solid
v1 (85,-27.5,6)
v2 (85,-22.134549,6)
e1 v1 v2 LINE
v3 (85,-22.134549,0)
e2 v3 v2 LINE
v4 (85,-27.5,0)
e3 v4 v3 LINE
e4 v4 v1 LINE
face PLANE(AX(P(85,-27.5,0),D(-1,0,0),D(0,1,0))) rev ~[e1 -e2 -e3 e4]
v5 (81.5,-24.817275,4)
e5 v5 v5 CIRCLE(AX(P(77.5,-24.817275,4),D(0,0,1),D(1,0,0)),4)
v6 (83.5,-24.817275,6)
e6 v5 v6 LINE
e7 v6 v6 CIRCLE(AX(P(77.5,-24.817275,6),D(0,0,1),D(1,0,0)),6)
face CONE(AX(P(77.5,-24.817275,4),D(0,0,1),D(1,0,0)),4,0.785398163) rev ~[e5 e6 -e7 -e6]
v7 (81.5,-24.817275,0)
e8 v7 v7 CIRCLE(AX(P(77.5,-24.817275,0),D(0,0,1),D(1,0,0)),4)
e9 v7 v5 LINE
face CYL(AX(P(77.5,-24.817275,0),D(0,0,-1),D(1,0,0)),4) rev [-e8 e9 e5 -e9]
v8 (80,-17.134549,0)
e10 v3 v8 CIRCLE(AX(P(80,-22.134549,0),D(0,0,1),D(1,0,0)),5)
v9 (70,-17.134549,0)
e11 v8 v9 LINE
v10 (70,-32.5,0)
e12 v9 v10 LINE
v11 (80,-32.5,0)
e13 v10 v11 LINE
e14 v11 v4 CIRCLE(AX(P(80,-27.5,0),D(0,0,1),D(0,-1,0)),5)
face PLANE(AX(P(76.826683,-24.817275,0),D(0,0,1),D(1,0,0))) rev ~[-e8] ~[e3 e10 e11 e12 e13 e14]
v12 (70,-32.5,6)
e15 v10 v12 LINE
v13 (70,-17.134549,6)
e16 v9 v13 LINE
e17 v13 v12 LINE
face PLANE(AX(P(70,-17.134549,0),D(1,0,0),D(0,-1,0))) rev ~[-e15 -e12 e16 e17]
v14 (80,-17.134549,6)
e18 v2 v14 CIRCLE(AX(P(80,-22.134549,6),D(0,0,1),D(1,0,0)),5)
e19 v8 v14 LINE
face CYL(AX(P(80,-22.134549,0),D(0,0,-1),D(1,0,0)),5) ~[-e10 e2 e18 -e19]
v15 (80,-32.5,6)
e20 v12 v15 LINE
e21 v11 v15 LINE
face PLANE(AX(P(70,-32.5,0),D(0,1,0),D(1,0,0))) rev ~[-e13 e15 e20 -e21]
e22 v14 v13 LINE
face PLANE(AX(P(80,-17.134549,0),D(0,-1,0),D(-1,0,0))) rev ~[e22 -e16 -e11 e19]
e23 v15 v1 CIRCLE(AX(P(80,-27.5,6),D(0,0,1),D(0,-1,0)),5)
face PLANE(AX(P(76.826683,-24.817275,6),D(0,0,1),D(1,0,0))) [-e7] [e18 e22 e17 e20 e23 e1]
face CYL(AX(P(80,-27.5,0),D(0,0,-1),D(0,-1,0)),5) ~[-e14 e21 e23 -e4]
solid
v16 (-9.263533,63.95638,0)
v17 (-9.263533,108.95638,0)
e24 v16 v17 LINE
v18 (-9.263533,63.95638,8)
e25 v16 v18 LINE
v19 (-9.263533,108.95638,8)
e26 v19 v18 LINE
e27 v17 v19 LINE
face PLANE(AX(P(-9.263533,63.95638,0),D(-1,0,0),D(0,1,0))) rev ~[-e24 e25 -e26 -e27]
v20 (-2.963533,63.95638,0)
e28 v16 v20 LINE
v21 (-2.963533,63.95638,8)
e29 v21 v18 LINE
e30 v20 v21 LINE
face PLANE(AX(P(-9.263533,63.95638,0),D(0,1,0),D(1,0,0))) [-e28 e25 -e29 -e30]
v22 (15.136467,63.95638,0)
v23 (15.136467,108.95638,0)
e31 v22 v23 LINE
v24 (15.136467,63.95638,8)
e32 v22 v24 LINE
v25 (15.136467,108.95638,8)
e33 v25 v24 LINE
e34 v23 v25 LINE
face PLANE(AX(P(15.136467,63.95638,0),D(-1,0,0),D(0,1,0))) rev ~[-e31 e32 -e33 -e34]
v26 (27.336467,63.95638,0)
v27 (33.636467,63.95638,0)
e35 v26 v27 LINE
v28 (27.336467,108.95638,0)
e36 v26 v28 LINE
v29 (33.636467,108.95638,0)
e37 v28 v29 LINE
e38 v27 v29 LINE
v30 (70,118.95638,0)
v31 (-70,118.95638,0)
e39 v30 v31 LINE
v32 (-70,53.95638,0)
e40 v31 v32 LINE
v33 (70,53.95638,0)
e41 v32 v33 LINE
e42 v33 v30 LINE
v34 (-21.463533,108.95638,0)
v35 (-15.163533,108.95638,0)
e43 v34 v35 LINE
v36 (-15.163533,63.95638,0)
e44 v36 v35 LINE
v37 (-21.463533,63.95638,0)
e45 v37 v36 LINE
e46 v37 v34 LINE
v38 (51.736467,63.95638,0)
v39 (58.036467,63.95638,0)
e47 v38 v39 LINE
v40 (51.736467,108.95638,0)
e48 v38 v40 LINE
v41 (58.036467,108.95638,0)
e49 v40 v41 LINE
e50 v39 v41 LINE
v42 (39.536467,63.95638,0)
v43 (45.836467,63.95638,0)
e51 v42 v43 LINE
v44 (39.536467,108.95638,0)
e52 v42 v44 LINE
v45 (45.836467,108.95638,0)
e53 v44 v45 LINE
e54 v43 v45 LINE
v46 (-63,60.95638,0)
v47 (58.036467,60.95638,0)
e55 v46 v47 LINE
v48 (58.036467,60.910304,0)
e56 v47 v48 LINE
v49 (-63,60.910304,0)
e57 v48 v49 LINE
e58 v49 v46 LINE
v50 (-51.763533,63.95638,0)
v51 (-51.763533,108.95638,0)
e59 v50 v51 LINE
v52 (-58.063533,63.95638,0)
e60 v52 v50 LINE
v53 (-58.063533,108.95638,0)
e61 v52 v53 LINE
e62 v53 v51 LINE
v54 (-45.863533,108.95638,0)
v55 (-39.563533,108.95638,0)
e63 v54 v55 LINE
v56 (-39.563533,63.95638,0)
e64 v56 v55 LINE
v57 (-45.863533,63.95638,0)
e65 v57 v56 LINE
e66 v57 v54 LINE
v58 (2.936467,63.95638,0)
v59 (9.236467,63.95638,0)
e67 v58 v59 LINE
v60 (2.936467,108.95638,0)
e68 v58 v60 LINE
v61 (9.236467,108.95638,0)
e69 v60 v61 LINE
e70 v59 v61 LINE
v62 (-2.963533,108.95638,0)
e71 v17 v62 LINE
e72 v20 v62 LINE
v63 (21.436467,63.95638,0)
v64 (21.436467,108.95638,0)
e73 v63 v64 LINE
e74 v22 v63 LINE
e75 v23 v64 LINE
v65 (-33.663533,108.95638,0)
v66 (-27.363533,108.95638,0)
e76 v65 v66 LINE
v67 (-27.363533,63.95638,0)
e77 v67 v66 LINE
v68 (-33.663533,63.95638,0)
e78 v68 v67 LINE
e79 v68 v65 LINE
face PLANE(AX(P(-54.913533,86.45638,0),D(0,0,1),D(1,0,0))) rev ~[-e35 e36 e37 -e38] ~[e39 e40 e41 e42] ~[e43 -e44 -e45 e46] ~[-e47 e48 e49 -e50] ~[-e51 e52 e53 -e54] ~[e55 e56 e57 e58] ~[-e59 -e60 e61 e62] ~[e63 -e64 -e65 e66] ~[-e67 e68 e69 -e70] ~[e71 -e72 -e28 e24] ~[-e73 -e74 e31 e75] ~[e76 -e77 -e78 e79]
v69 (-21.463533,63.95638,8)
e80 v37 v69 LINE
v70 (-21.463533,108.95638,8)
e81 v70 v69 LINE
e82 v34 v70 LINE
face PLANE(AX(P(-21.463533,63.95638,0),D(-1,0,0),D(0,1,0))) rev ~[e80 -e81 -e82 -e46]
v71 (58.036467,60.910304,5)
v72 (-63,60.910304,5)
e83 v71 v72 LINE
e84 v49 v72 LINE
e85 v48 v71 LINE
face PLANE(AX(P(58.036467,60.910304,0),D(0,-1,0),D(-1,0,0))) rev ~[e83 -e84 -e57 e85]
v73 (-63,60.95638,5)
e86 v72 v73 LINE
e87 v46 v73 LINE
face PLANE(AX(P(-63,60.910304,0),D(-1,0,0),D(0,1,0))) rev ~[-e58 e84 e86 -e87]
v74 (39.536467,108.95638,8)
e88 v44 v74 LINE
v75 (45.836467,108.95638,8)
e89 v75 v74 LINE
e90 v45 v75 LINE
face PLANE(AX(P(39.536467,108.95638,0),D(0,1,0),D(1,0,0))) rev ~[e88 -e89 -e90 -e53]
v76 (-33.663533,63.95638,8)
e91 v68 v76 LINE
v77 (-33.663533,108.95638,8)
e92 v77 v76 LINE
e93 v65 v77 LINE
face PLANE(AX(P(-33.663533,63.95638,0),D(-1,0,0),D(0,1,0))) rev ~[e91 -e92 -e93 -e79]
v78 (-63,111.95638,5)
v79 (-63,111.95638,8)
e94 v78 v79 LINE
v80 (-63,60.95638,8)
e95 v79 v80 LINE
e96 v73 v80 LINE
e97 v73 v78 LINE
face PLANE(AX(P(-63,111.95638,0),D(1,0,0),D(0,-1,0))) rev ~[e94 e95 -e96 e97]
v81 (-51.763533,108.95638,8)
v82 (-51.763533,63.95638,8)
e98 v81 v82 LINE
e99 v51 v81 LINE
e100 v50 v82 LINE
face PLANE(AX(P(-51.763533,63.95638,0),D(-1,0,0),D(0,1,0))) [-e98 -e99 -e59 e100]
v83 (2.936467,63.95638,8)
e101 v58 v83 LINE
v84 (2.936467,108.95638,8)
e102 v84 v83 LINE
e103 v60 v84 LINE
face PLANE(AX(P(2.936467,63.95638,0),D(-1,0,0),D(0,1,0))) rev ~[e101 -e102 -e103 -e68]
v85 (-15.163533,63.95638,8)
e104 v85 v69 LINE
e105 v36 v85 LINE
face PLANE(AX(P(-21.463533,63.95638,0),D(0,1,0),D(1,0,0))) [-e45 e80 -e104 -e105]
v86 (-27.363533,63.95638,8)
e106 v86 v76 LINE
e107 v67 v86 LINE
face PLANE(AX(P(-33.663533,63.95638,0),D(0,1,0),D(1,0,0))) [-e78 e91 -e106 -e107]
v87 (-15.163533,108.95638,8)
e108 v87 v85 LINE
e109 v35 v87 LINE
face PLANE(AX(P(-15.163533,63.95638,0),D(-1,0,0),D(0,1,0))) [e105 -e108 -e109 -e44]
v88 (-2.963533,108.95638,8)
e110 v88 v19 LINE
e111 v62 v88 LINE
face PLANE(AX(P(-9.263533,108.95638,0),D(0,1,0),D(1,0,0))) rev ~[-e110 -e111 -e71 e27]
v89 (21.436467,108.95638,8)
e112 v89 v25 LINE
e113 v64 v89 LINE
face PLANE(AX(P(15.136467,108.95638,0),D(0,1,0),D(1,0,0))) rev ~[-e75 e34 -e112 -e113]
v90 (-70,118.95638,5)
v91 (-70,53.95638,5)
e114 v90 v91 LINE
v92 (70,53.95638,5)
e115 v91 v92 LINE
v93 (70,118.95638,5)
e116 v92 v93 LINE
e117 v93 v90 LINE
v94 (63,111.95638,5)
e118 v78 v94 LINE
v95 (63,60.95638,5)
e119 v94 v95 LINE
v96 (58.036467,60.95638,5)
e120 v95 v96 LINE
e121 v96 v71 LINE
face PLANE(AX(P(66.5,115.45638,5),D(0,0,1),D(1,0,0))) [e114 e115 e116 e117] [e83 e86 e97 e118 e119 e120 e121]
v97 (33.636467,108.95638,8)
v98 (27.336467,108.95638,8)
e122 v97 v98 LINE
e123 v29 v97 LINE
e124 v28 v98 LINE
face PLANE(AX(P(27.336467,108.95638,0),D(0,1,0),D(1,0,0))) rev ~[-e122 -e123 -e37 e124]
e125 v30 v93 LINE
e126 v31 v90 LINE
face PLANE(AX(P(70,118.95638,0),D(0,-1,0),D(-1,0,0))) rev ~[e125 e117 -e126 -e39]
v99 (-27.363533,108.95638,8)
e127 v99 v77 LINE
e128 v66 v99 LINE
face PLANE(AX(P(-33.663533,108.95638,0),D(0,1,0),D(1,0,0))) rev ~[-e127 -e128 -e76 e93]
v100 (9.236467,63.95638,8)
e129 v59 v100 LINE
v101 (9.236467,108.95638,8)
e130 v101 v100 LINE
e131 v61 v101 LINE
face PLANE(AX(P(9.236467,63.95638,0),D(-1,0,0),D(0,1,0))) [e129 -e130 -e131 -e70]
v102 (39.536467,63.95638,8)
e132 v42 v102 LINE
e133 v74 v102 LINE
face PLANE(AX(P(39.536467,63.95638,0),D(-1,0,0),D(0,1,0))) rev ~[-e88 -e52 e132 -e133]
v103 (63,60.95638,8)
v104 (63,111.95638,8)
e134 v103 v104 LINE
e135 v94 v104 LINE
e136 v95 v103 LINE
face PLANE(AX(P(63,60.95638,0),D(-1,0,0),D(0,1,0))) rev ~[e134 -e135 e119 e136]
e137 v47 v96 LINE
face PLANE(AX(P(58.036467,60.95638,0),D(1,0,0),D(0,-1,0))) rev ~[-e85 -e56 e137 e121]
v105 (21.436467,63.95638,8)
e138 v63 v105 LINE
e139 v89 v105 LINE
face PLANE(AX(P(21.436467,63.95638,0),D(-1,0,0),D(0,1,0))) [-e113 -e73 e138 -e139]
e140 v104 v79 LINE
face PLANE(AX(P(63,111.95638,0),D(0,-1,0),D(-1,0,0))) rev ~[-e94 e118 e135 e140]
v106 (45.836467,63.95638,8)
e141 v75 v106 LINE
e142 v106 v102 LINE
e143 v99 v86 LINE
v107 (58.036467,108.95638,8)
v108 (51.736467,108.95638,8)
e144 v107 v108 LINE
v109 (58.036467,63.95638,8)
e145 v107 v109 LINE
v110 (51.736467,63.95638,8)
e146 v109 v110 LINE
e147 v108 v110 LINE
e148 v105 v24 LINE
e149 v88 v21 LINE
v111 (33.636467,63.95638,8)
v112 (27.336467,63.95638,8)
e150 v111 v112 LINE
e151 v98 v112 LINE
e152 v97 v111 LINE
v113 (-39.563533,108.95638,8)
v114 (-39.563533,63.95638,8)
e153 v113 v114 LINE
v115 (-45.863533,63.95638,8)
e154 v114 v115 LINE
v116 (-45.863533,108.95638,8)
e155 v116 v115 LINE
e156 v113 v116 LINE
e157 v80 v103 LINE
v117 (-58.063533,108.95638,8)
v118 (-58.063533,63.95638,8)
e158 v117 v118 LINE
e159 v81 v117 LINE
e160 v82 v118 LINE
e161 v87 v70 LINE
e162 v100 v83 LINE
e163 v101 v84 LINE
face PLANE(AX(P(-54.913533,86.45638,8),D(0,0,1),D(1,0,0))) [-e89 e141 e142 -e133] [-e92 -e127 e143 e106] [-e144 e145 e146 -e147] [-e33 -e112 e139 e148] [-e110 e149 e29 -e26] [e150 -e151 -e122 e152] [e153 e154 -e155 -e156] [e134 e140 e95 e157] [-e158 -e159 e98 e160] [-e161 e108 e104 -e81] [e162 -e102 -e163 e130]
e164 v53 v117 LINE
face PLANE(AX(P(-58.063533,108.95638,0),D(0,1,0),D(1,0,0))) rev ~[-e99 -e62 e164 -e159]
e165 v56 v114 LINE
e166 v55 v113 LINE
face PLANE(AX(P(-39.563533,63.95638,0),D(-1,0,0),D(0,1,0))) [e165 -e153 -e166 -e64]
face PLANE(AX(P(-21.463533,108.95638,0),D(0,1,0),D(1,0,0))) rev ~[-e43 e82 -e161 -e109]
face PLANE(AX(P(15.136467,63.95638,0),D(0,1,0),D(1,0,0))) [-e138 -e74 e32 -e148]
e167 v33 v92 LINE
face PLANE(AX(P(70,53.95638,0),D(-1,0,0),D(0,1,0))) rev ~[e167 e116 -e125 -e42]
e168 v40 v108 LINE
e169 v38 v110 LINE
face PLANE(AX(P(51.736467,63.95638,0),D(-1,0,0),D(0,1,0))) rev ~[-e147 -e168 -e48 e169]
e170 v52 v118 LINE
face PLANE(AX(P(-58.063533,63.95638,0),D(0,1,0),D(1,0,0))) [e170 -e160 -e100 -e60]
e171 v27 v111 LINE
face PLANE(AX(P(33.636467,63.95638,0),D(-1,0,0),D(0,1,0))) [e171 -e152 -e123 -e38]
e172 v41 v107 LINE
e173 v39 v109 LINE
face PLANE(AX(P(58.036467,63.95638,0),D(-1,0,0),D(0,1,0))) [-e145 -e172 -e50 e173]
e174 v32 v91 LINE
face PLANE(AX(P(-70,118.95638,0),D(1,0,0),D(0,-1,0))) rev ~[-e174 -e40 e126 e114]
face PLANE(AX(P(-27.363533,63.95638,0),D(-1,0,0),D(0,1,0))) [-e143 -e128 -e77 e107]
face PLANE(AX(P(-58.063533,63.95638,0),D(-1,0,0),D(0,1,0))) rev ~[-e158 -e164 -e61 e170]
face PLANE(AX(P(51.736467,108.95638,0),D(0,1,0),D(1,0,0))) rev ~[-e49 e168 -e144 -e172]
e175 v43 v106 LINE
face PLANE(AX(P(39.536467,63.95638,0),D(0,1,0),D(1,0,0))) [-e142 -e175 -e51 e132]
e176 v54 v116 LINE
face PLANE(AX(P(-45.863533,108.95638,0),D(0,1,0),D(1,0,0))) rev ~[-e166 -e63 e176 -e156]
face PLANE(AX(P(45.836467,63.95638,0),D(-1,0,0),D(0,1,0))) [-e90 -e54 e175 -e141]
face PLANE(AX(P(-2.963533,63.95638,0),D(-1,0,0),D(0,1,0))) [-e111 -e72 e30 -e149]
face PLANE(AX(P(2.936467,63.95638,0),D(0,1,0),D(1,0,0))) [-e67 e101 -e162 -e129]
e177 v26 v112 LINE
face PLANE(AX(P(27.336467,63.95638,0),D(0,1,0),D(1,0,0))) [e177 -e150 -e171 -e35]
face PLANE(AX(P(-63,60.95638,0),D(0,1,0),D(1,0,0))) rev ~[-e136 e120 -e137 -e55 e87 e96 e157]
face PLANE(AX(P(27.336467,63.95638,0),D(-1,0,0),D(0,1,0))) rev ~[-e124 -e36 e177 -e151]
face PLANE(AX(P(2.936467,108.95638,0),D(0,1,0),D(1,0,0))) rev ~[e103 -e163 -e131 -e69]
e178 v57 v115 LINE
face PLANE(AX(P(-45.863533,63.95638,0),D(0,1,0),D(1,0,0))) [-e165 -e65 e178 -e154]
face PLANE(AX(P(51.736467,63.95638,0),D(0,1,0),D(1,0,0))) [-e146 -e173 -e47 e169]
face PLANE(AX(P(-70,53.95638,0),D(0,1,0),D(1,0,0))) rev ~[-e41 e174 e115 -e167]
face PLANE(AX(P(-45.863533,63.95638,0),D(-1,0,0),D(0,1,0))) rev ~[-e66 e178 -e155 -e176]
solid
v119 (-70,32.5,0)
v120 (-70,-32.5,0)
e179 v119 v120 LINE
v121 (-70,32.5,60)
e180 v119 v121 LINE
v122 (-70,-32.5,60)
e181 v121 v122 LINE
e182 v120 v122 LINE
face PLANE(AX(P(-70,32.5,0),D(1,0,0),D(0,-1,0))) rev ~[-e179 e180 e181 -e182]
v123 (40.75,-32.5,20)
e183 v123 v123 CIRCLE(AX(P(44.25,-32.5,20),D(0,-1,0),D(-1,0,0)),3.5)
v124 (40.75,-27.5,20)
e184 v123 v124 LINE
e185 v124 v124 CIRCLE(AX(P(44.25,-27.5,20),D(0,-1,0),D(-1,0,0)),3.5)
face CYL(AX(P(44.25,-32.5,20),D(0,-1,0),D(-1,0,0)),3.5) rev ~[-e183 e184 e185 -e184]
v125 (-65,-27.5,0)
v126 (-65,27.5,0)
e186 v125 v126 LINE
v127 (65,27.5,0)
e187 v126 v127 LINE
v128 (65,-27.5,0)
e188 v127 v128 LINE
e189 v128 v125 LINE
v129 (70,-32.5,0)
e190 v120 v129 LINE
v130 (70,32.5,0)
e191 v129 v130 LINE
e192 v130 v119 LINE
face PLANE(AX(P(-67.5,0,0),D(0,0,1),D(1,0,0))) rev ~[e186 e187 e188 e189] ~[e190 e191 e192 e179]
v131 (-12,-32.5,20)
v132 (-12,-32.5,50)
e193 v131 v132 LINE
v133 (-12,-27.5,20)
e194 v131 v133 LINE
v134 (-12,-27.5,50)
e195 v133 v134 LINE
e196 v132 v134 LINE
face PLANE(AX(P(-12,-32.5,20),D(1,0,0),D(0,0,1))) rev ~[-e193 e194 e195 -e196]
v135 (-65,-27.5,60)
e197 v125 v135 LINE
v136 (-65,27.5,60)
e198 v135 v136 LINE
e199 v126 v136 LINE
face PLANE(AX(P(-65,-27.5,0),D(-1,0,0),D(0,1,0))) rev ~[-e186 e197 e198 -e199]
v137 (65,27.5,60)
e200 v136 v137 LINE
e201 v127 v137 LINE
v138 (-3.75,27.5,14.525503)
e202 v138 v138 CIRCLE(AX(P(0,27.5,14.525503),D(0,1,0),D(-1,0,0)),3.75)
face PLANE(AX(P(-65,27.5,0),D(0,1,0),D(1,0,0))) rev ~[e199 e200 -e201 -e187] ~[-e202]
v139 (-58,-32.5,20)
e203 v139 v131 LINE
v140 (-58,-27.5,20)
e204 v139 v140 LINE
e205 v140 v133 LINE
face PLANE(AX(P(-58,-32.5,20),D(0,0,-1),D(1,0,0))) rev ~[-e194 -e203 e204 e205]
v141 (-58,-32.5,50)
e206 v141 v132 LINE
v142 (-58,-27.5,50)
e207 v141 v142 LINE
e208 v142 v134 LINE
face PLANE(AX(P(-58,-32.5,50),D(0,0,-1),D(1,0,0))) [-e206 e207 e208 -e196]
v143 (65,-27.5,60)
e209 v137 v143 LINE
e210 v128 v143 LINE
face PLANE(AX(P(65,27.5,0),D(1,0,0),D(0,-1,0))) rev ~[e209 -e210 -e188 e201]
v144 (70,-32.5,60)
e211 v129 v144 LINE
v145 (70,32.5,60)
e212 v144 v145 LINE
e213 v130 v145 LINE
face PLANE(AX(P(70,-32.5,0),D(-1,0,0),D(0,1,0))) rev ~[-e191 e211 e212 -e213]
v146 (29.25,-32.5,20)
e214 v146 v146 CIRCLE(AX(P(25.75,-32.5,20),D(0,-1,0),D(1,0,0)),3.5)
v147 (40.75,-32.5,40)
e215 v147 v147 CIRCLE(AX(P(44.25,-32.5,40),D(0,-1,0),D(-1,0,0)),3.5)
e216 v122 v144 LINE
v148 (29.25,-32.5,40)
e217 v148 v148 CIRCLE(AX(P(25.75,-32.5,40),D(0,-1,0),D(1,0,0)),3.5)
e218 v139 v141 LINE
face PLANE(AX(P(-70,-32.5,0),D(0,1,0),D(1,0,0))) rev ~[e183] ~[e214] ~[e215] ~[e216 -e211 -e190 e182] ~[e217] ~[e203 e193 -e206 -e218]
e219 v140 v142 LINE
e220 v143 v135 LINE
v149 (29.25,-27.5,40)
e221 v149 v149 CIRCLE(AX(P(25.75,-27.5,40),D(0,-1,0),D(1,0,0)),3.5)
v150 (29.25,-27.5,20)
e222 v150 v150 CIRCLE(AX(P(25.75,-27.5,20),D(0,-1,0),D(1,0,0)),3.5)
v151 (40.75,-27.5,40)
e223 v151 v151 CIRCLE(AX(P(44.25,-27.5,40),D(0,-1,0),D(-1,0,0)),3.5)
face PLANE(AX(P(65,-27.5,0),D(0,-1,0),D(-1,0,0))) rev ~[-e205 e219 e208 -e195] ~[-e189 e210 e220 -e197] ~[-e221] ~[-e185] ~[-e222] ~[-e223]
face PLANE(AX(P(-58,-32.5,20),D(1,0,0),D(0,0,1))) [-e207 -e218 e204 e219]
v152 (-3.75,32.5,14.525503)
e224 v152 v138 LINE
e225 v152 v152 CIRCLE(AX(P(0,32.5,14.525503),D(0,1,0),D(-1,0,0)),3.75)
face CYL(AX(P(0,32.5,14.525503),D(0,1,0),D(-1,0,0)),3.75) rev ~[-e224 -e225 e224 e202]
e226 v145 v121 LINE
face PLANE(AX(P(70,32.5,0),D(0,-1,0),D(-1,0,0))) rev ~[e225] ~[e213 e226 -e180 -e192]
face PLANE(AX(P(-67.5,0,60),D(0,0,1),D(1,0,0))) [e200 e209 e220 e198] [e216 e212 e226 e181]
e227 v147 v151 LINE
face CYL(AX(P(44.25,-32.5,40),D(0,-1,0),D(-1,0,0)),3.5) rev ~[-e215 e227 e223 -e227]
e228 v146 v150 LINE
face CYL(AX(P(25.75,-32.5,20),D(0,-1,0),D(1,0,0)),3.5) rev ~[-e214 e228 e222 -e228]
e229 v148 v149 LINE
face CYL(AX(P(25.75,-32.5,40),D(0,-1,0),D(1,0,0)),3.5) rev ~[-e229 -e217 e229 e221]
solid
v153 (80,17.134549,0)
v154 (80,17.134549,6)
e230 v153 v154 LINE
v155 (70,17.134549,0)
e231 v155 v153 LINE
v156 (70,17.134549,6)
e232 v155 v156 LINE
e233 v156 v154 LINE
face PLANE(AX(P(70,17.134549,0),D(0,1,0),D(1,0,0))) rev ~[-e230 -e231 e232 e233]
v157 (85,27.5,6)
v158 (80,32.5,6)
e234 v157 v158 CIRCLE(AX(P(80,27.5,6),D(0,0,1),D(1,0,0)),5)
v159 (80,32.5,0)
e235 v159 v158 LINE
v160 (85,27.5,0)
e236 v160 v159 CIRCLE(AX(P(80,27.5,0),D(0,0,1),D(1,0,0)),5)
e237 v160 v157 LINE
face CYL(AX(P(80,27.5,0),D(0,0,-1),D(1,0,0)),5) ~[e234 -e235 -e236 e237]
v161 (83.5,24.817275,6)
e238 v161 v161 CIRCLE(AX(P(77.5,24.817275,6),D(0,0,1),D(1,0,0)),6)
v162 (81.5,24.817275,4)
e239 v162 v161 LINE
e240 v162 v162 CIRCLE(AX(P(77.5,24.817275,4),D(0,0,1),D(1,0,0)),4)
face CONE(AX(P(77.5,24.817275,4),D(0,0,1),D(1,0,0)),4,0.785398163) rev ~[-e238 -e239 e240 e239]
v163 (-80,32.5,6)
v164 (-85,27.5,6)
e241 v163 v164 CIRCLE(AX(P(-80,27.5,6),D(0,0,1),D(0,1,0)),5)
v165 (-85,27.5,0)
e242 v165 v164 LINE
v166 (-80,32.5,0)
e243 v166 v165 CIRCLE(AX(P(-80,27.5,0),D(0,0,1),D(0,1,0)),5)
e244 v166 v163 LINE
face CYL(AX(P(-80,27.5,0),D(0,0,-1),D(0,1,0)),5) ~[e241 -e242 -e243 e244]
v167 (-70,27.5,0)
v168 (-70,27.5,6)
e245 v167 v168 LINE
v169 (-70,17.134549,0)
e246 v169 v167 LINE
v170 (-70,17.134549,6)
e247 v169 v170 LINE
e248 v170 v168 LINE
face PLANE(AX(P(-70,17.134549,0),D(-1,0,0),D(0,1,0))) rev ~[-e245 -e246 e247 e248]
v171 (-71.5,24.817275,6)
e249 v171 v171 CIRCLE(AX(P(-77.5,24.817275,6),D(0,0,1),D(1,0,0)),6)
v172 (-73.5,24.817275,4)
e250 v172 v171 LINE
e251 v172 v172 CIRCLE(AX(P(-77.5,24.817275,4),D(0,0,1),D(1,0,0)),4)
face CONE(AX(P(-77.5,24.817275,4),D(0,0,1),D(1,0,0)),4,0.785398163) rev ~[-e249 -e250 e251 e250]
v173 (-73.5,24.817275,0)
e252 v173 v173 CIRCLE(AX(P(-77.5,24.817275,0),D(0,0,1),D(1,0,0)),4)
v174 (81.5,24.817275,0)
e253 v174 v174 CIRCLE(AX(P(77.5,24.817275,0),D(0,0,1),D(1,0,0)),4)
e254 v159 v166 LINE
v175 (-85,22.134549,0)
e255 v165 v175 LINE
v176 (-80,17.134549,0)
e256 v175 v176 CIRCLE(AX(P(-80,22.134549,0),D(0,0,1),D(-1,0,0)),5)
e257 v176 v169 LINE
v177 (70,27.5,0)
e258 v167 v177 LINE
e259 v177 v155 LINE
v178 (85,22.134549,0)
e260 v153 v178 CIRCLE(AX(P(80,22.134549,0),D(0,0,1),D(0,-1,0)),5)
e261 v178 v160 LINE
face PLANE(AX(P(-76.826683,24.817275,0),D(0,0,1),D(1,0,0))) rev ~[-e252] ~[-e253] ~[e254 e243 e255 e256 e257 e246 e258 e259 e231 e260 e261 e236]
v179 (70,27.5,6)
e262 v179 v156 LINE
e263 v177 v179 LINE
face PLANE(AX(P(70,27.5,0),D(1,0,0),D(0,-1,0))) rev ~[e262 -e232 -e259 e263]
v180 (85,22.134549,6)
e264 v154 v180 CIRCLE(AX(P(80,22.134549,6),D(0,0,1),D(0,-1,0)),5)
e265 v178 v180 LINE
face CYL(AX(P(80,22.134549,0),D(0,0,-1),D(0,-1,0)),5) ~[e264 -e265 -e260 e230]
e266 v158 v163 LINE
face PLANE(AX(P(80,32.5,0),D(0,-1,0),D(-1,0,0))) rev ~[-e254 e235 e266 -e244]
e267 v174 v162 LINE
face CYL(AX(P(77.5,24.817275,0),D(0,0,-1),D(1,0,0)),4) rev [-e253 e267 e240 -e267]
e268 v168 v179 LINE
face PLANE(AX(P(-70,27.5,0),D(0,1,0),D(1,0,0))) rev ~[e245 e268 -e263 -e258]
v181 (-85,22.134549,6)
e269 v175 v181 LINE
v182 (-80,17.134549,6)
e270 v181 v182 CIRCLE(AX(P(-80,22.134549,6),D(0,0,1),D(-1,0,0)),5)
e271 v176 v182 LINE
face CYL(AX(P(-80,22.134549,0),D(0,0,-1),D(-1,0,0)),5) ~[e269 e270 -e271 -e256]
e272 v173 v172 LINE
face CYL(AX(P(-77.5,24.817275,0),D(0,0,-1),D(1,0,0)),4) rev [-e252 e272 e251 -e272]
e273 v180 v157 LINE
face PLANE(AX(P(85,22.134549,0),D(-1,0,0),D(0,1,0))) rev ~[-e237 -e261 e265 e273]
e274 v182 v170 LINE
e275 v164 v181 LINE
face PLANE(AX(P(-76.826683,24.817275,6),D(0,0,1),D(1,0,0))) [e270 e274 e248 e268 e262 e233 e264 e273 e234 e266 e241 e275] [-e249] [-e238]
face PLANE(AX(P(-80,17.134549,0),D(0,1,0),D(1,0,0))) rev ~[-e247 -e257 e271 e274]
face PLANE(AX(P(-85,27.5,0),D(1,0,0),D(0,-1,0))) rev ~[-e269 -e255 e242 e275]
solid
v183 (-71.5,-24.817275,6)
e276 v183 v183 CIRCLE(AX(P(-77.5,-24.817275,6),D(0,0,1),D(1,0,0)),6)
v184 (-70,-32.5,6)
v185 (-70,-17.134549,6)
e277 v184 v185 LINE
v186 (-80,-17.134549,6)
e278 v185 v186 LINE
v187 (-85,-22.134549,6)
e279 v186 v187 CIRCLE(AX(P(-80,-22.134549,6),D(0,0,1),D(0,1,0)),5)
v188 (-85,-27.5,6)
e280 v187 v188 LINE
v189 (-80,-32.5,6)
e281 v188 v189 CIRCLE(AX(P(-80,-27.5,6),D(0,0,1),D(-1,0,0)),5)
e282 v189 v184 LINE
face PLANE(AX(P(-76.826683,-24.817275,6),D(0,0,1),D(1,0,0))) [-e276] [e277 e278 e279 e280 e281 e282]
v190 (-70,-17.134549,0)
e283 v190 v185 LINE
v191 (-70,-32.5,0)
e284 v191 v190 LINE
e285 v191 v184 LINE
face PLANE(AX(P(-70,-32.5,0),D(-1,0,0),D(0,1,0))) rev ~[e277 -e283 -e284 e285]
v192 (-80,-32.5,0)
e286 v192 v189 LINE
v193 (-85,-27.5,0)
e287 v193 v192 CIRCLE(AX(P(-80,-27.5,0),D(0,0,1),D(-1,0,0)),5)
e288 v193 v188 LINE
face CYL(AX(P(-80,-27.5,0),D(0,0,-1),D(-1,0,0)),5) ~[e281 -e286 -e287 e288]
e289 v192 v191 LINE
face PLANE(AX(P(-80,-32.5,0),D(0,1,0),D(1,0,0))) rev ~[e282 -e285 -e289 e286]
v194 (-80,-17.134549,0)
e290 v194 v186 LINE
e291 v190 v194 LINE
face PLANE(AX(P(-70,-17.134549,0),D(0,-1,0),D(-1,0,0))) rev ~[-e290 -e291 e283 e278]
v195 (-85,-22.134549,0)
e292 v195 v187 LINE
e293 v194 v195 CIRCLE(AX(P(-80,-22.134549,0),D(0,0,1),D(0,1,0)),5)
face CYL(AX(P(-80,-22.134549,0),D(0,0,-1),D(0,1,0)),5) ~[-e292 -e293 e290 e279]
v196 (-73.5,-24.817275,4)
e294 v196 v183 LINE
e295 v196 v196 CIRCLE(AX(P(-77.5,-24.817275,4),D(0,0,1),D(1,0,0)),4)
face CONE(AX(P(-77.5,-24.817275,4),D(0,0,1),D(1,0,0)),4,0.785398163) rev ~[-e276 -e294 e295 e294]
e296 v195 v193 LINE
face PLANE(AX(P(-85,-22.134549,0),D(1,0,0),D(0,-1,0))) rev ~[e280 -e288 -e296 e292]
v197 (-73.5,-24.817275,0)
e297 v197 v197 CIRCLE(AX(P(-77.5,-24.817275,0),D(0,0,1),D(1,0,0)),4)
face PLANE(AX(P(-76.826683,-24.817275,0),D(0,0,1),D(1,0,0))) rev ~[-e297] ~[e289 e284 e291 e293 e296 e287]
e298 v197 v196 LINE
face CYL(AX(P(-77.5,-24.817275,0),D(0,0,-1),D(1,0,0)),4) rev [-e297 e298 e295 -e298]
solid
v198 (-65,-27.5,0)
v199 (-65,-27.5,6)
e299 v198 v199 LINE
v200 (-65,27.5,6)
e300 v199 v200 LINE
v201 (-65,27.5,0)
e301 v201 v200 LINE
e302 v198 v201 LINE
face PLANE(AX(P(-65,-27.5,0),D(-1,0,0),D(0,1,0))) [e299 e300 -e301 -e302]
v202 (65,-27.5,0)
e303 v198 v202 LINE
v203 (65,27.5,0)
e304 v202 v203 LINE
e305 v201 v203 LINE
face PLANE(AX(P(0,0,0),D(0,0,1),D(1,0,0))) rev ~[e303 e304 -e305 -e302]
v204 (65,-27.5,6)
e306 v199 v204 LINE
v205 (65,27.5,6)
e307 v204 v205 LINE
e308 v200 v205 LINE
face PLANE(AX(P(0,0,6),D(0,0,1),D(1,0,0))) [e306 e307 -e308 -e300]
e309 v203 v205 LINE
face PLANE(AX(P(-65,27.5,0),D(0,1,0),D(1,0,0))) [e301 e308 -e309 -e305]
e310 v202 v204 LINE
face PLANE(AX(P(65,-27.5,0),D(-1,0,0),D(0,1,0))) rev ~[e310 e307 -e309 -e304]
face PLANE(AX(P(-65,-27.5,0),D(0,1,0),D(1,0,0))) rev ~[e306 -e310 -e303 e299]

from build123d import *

# Parameters (mm, degrees)
F0_R      = 4
F0_W      = 5
F0_H      = 5
F0_W_2    = 130
F1_DEPTH  = 6
F2_SIZE   = 2
F2_2_SIZE = 2
F2_3_SIZE = 2
F3_DEPTH  = 60
F0_H_2    = 55
F4_DEPTH  = 6
F5_W      = 46
F5_H      = 30
F5_R      = 3.5
F6_DEPTH  = 5
F7_R      = 3.75
F8_DEPTH  = 5
F0_W_3    = 7
F0_H_3    = 7
F0_H_4    = 51
F9_DEPTH  = 5
F0_W_4    = 6.3
F0_H_5    = 45
F0_W_5    = 5.9
F0_W_6    = 1.9635334134
F0_W_7    = 1.9364665866
F0_H_6    = 3
F10_DEPTH = 8
F11_DEPTH = 25


with BuildPart() as f1:
    # F0 (on Top) → F1 (new body)
    with BuildSketch(Plane.XY):
        with BuildLine():
            Line((-70, 27.5), (-70, 32.5))
            Line((-70, 32.5), (-80, 32.5))
            ThreePointArc((-80, 32.5), (-83.5355339059, 31.0355339059), (-85, 27.5))
            Line((-85, 27.5), (-85, 22.1345490962))
            ThreePointArc((-85, 22.1345490962), (-83.5355339059, 18.5990151903), (-80, 17.1345490962))
            Line((-80, 17.1345490962), (-70, 17.1345490962))
            Line((-70, 17.1345490962), (-70, 27.5))
        make_face()
        with Locations((-77.5, 24.8172745481)):
            Circle(F0_R, mode=Mode.SUBTRACT)
        with Locations((-67.5, 30)):
            Rectangle(F0_W, F0_H)
        with Locations((0, 30)):
            Rectangle(F0_W_2, F0_H)
        with Locations((67.5, 30)):
            Rectangle(F0_W, F0_H)
        with BuildLine():
            Line((80, 32.5), (70, 32.5))
            Line((70, 32.5), (70, 27.5))
            Line((70, 27.5), (70, 17.1345490962))
            Line((70, 17.1345490962), (80, 17.1345490962))
            ThreePointArc((80, 17.1345490962), (83.5355339059, 18.5990151903), (85, 22.1345490962))
            Line((85, 22.1345490962), (85, 27.5))
            ThreePointArc((85, 27.5), (83.5355339059, 31.0355339059), (80, 32.5))
        make_face()
        with Locations((77.5, 24.8172745481)):
            Circle(F0_R, mode=Mode.SUBTRACT)
    extrude(amount=F1_DEPTH)

    # F2
    f2_edges = [f1.edges().sort_by_distance(p)[0] for p in [
        (-81.5, 24.817275, 6),
        (73.5, 24.817275, 6),
    ]]
    chamfer(f2_edges, length=F2_SIZE)


with BuildPart() as f1b:
    # F0 (on Top) → F1, piece 2 (new body)
    with BuildSketch(Plane.XY):
        with BuildLine():
            Line((-70, -27.5), (-70, -17.1345490962))
            Line((-70, -17.1345490962), (-80, -17.1345490962))
            ThreePointArc((-80, -17.1345490962), (-83.5355339059, -18.5990151903), (-85, -22.1345490962))
            Line((-85, -22.1345490962), (-85, -27.5))
            ThreePointArc((-85, -27.5), (-83.5355339059, -31.0355339059), (-80, -32.5))
            Line((-80, -32.5), (-70, -32.5))
            Line((-70, -32.5), (-70, -27.5))
        make_face()
        with Locations((-77.5, -24.8172745481)):
            Circle(F0_R, mode=Mode.SUBTRACT)
    extrude(amount=F1_DEPTH)

    # F2#2
    f2_2_edges = [f1b.edges().sort_by_distance(p)[0] for p in [
        (-81.5, -24.817275, 6),
    ]]
    chamfer(f2_2_edges, length=F2_2_SIZE)


with BuildPart() as f1c:
    # F0 (on Top) → F1, piece 3 (new body)
    with BuildSketch(Plane.XY):
        with BuildLine():
            Line((70, -17.1345490962), (70, -27.5))
            Line((70, -27.5), (70, -32.5))
            Line((70, -32.5), (80, -32.5))
            ThreePointArc((80, -32.5), (83.5355339059, -31.0355339059), (85, -27.5))
            Line((85, -27.5), (85, -22.1345490962))
            ThreePointArc((85, -22.1345490962), (83.5355339059, -18.5990151903), (80, -17.1345490962))
            Line((80, -17.1345490962), (70, -17.1345490962))
        make_face()
        with Locations((77.5, -24.8172745481)):
            Circle(F0_R, mode=Mode.SUBTRACT)
    extrude(amount=F1_DEPTH)

    # F2#3
    f2_3_edges = [f1c.edges().sort_by_distance(p)[0] for p in [
        (73.5, -24.817275, 6),
    ]]
    chamfer(f2_3_edges, length=F2_3_SIZE)


with BuildPart() as f3:
    # F0 (on Top) → F3 (new body)
    with BuildSketch(Plane.XY):
        Polygon((-65, 27.5), (-70, 27.5), (-70, 17.1345490962), (-70, -17.1345490962), (-70, -27.5), (-65, -27.5), align=None)
        with Locations((0, -30)):
            Rectangle(F0_W_2, F0_H)
        with Locations((-67.5, -30)):
            Rectangle(F0_W, F0_H)
        with Locations((67.5, -30)):
            Rectangle(F0_W, F0_H)
        Polygon((70, 27.5), (65, 27.5), (65, -27.5), (70, -27.5), (70, -17.1345490962), (70, 17.1345490962), align=None)
        with Locations((67.5, 30)):
            Rectangle(F0_W, F0_H)
        with Locations((0, 30)):
            Rectangle(F0_W_2, F0_H)
        with Locations((-67.5, 30)):
            Rectangle(F0_W, F0_H)
    extrude(amount=F3_DEPTH)

    # F5 (on face) → F6 (cut)
    with BuildSketch(Plane.XZ.offset(32.5)):
        with Locations((-35, 35)):
            Rectangle(F5_W, F5_H)
        with Locations((25.75, 40)):
            Circle(F5_R)
        with Locations((25.75, 20)):
            Circle(F5_R)
        with BuildLine():
            ThreePointArc((47.75, 40), (44.25, 43.5), (40.75, 40))
            ThreePointArc((40.75, 40), (44.25, 36.5), (47.75, 40))
        make_face()
        with BuildLine():
            ThreePointArc((47.75, 20), (44.25, 23.5), (40.75, 20))
            ThreePointArc((40.75, 20), (44.25, 16.5), (47.75, 20))
        make_face()
    extrude(amount=-F6_DEPTH, mode=Mode.SUBTRACT)

    # F7 (on face) → F8 (cut)
    with BuildSketch(Plane(origin=(0, 32.5, 0), x_dir=(-1, 0, 0), z_dir=(0, 1, 0))):
        with Locations((0, 14.525502791)):
            Circle(F7_R)
    extrude(amount=-F8_DEPTH, mode=Mode.SUBTRACT)


with BuildPart() as f4:
    # F0 (on Top) → F4 (new body)
    with BuildSketch(Plane.XY):
        Rectangle(F0_W_2, F0_H_2)
    extrude(amount=F4_DEPTH)


with BuildPart() as f9:
    # F0 (on Top) → F9 (new body)
    with BuildSketch(Plane.XY):
        with Locations((66.5, 115.4563803077)):
            Rectangle(F0_W_3, F0_H_3)
        Polygon((63, 118.9563803077), (-63, 118.9563803077), (-63, 112.5258132815), (-63, 111.9563803077), (-58.0635334134, 111.9563803077), (-51.7635334134, 111.9563803077), (-45.8635334134, 111.9563803077), (-39.5635334134, 111.9563803077), (-33.6635334134, 111.9563803077), (-27.3635334134, 111.9563803077), (-21.4635334134, 111.9563803077), (-15.1635334134, 111.9563803077), (-9.2635334134, 111.9563803077), (-2.9635334134, 111.9563803077), (2.9364665866, 111.9563803077), (9.2364665866, 111.9563803077), (15.1364665866, 111.9563803077), (21.4364665866, 111.9563803077), (27.3364665866, 111.9563803077), (33.6364665866, 111.9563803077), (39.5364665866, 111.9563803077), (45.8364665866, 111.9563803077), (51.7364665866, 111.9563803077), (58.0364665866, 111.9563803077), (63, 111.9563803077), align=None)
        with Locations((66.5, 86.4563803077)):
            Rectangle(F0_W_3, F0_H_4)
        with Locations((66.5, 57.4563803077)):
            Rectangle(F0_W_3, F0_H_3)
        Polygon((63, 53.9563803077), (63, 60.9563803077), (58.0364665866, 60.9563803077), (58.0364665866, 60.9103041655), (51.7364665866, 60.9103041655), (45.8364665866, 60.9103041655), (39.5364665866, 60.9103041655), (33.6364665866, 60.9103041655), (27.3364665866, 60.9103041655), (21.4364665866, 60.9103041655), (15.1364665866, 60.9103041655), (9.2364665866, 60.9103041655), (2.9364665866, 60.9103041655), (-2.9635334134, 60.9103041655), (-9.2635334134, 60.9103041655), (-15.1635334134, 60.9103041655), (-21.4635334134, 60.9103041655), (-27.3635334134, 60.9103041655), (-33.6635334134, 60.9103041655), (-39.5635334134, 60.9103041655), (-45.8635334134, 60.9103041655), (-51.7635334134, 60.9103041655), (-58.0635334134, 60.9103041655), (-63, 60.9103041655), (-63, 53.9563803077), align=None)
        Polygon((-63, 60.9563803077), (-70, 60.9563803077), (-70, 53.9563803077), (-63, 53.9563803077), (-63, 60.9103041655), align=None)
        with Locations((-66.5, 86.4563803077)):
            Rectangle(F0_W_3, F0_H_4)
        Polygon((-63, 118.9563803077), (-70, 118.9563803077), (-70, 111.9563803077), (-63, 111.9563803077), (-63, 112.5258132815), align=None)
    extrude(amount=F9_DEPTH)

    # F0 (on Top) → F10 (join)
    with BuildSketch(Plane.XY):
        with Locations((-54.9135334134, 86.4563803077)):
            Rectangle(F0_W_4, F0_H_5)
        with Locations((-48.8135334134, 86.4563803077)):
            Rectangle(F0_W_5, F0_H_5)
        with Locations((-42.7135334134, 86.4563803077)):
            Rectangle(F0_W_4, F0_H_5)
        with Locations((-36.6135334134, 86.4563803077)):
            Rectangle(F0_W_5, F0_H_5)
        with Locations((-30.5135334134, 86.4563803077)):
            Rectangle(F0_W_4, F0_H_5)
        with Locations((-24.4135334134, 86.4563803077)):
            Rectangle(F0_W_5, F0_H_5)
        with Locations((-18.3135334134, 86.4563803077)):
            Rectangle(F0_W_4, F0_H_5)
        with Locations((-12.2135334134, 86.4563803077)):
            Rectangle(F0_W_5, F0_H_5)
        with Locations((-6.1135334134, 86.4563803077)):
            Rectangle(F0_W_4, F0_H_5)
        with Locations((-0.0135334134, 86.4563803077)):
            Rectangle(F0_W_5, F0_H_5)
        with Locations((6.0864665866, 86.4563803077)):
            Rectangle(F0_W_4, F0_H_5)
        with Locations((12.1864665866, 86.4563803077)):
            Rectangle(F0_W_5, F0_H_5)
        with Locations((18.2864665866, 86.4563803077)):
            Rectangle(F0_W_4, F0_H_5)
        with Locations((24.3864665866, 86.4563803077)):
            Rectangle(F0_W_5, F0_H_5)
        with Locations((30.4864665866, 86.4563803077)):
            Rectangle(F0_W_4, F0_H_5)
        with Locations((36.5864665866, 86.4563803077)):
            Rectangle(F0_W_5, F0_H_5)
        with Locations((42.6864665866, 86.4563803077)):
            Rectangle(F0_W_4, F0_H_5)
        with Locations((48.7864665866, 86.4563803077)):
            Rectangle(F0_W_5, F0_H_5)
        with Locations((54.8864665866, 86.4563803077)):
            Rectangle(F0_W_4, F0_H_5)
        with Locations((59.0182332933, 86.4563803077)):
            Rectangle(F0_W_6, F0_H_5)
        Polygon((63, 60.9563803077), (63, 111.9563803077), (58.0364665866, 111.9563803077), (58.0364665866, 108.9563803077), (60, 108.9563803077), (60, 63.9563803077), (58.0364665866, 63.9563803077), (58.0364665866, 60.9563803077), align=None)
        Polygon((-58.0635334134, 111.9563803077), (-63, 111.9563803077), (-63, 60.9563803077), (-58.0635334134, 60.9563803077), (-58.0635334134, 63.9563803077), (-60, 63.9563803077), (-60, 108.9563803077), (-58.0635334134, 108.9563803077), align=None)
        with Locations((-59.0317667067, 86.4563803077)):
            Rectangle(F0_W_7, F0_H_5)
        with Locations((-54.9135334134, 62.4563803077)):
            Rectangle(F0_W_4, F0_H_6)
        with Locations((-48.8135334134, 62.4563803077)):
            Rectangle(F0_W_5, F0_H_6)
        with Locations((-42.7135334134, 62.4563803077)):
            Rectangle(F0_W_4, F0_H_6)
        with Locations((-36.6135334134, 62.4563803077)):
            Rectangle(F0_W_5, F0_H_6)
        with Locations((-30.5135334134, 62.4563803077)):
            Rectangle(F0_W_4, F0_H_6)
        with Locations((-24.4135334134, 62.4563803077)):
            Rectangle(F0_W_5, F0_H_6)
        with Locations((-18.3135334134, 62.4563803077)):
            Rectangle(F0_W_4, F0_H_6)
        with Locations((-12.2135334134, 62.4563803077)):
            Rectangle(F0_W_5, F0_H_6)
        with Locations((-6.1135334134, 62.4563803077)):
            Rectangle(F0_W_4, F0_H_6)
        with Locations((-0.0135334134, 62.4563803077)):
            Rectangle(F0_W_5, F0_H_6)
        with Locations((6.0864665866, 62.4563803077)):
            Rectangle(F0_W_4, F0_H_6)
        with Locations((12.1864665866, 62.4563803077)):
            Rectangle(F0_W_5, F0_H_6)
        with Locations((18.2864665866, 62.4563803077)):
            Rectangle(F0_W_4, F0_H_6)
        with Locations((24.3864665866, 62.4563803077)):
            Rectangle(F0_W_5, F0_H_6)
        with Locations((30.4864665866, 62.4563803077)):
            Rectangle(F0_W_4, F0_H_6)
        with Locations((36.5864665866, 62.4563803077)):
            Rectangle(F0_W_5, F0_H_6)
        with Locations((42.6864665866, 62.4563803077)):
            Rectangle(F0_W_4, F0_H_6)
        with Locations((48.7864665866, 62.4563803077)):
            Rectangle(F0_W_5, F0_H_6)
        with Locations((54.8864665866, 62.4563803077)):
            Rectangle(F0_W_4, F0_H_6)
        with Locations((54.8864665866, 110.4563803077)):
            Rectangle(F0_W_4, F0_H_6)
        with Locations((48.7864665866, 110.4563803077)):
            Rectangle(F0_W_5, F0_H_6)
        with Locations((42.6864665866, 110.4563803077)):
            Rectangle(F0_W_4, F0_H_6)
        with Locations((36.5864665866, 110.4563803077)):
            Rectangle(F0_W_5, F0_H_6)
        with Locations((30.4864665866, 110.4563803077)):
            Rectangle(F0_W_4, F0_H_6)
        with Locations((24.3864665866, 110.4563803077)):
            Rectangle(F0_W_5, F0_H_6)
        with Locations((18.2864665866, 110.4563803077)):
            Rectangle(F0_W_4, F0_H_6)
        with Locations((12.1864665866, 110.4563803077)):
            Rectangle(F0_W_5, F0_H_6)
        with Locations((6.0864665866, 110.4563803077)):
            Rectangle(F0_W_4, F0_H_6)
        with Locations((-0.0135334134, 110.4563803077)):
            Rectangle(F0_W_5, F0_H_6)
        with Locations((-6.1135334134, 110.4563803077)):
            Rectangle(F0_W_4, F0_H_6)
        with Locations((-12.2135334134, 110.4563803077)):
            Rectangle(F0_W_5, F0_H_6)
        with Locations((-18.3135334134, 110.4563803077)):
            Rectangle(F0_W_4, F0_H_6)
        with Locations((-24.4135334134, 110.4563803077)):
            Rectangle(F0_W_5, F0_H_6)
        with Locations((-30.5135334134, 110.4563803077)):
            Rectangle(F0_W_4, F0_H_6)
        with Locations((-54.9135334134, 110.4563803077)):
            Rectangle(F0_W_4, F0_H_6)
        with Locations((-48.8135334134, 110.4563803077)):
            Rectangle(F0_W_5, F0_H_6)
        with Locations((-42.7135334134, 110.4563803077)):
            Rectangle(F0_W_4, F0_H_6)
        with Locations((-36.6135334134, 110.4563803077)):
            Rectangle(F0_W_5, F0_H_6)
    extrude(amount=F10_DEPTH)

    # F0 (on Top) → F11 (cut)
    with BuildSketch(Plane.XY):
        with Locations((54.8864665866, 86.4563803077)):
            Rectangle(F0_W_4, F0_H_5)
        with Locations((42.6864665866, 86.4563803077)):
            Rectangle(F0_W_4, F0_H_5)
        with Locations((30.4864665866, 86.4563803077)):
            Rectangle(F0_W_4, F0_H_5)
        with Locations((18.2864665866, 86.4563803077)):
            Rectangle(F0_W_4, F0_H_5)
        with Locations((6.0864665866, 86.4563803077)):
            Rectangle(F0_W_4, F0_H_5)
        with Locations((-6.1135334134, 86.4563803077)):
            Rectangle(F0_W_4, F0_H_5)
        with Locations((-18.3135334134, 86.4563803077)):
            Rectangle(F0_W_4, F0_H_5)
        with Locations((-30.5135334134, 86.4563803077)):
            Rectangle(F0_W_4, F0_H_5)
        with Locations((-42.7135334134, 86.4563803077)):
            Rectangle(F0_W_4, F0_H_5)
        with Locations((-54.9135334134, 86.4563803077)):
            Rectangle(F0_W_4, F0_H_5)
    extrude(amount=F11_DEPTH, mode=Mode.SUBTRACT)


solid = Compound([f1.part, f1b.part, f1c.part, f3.part, f4.part, f9.part])
